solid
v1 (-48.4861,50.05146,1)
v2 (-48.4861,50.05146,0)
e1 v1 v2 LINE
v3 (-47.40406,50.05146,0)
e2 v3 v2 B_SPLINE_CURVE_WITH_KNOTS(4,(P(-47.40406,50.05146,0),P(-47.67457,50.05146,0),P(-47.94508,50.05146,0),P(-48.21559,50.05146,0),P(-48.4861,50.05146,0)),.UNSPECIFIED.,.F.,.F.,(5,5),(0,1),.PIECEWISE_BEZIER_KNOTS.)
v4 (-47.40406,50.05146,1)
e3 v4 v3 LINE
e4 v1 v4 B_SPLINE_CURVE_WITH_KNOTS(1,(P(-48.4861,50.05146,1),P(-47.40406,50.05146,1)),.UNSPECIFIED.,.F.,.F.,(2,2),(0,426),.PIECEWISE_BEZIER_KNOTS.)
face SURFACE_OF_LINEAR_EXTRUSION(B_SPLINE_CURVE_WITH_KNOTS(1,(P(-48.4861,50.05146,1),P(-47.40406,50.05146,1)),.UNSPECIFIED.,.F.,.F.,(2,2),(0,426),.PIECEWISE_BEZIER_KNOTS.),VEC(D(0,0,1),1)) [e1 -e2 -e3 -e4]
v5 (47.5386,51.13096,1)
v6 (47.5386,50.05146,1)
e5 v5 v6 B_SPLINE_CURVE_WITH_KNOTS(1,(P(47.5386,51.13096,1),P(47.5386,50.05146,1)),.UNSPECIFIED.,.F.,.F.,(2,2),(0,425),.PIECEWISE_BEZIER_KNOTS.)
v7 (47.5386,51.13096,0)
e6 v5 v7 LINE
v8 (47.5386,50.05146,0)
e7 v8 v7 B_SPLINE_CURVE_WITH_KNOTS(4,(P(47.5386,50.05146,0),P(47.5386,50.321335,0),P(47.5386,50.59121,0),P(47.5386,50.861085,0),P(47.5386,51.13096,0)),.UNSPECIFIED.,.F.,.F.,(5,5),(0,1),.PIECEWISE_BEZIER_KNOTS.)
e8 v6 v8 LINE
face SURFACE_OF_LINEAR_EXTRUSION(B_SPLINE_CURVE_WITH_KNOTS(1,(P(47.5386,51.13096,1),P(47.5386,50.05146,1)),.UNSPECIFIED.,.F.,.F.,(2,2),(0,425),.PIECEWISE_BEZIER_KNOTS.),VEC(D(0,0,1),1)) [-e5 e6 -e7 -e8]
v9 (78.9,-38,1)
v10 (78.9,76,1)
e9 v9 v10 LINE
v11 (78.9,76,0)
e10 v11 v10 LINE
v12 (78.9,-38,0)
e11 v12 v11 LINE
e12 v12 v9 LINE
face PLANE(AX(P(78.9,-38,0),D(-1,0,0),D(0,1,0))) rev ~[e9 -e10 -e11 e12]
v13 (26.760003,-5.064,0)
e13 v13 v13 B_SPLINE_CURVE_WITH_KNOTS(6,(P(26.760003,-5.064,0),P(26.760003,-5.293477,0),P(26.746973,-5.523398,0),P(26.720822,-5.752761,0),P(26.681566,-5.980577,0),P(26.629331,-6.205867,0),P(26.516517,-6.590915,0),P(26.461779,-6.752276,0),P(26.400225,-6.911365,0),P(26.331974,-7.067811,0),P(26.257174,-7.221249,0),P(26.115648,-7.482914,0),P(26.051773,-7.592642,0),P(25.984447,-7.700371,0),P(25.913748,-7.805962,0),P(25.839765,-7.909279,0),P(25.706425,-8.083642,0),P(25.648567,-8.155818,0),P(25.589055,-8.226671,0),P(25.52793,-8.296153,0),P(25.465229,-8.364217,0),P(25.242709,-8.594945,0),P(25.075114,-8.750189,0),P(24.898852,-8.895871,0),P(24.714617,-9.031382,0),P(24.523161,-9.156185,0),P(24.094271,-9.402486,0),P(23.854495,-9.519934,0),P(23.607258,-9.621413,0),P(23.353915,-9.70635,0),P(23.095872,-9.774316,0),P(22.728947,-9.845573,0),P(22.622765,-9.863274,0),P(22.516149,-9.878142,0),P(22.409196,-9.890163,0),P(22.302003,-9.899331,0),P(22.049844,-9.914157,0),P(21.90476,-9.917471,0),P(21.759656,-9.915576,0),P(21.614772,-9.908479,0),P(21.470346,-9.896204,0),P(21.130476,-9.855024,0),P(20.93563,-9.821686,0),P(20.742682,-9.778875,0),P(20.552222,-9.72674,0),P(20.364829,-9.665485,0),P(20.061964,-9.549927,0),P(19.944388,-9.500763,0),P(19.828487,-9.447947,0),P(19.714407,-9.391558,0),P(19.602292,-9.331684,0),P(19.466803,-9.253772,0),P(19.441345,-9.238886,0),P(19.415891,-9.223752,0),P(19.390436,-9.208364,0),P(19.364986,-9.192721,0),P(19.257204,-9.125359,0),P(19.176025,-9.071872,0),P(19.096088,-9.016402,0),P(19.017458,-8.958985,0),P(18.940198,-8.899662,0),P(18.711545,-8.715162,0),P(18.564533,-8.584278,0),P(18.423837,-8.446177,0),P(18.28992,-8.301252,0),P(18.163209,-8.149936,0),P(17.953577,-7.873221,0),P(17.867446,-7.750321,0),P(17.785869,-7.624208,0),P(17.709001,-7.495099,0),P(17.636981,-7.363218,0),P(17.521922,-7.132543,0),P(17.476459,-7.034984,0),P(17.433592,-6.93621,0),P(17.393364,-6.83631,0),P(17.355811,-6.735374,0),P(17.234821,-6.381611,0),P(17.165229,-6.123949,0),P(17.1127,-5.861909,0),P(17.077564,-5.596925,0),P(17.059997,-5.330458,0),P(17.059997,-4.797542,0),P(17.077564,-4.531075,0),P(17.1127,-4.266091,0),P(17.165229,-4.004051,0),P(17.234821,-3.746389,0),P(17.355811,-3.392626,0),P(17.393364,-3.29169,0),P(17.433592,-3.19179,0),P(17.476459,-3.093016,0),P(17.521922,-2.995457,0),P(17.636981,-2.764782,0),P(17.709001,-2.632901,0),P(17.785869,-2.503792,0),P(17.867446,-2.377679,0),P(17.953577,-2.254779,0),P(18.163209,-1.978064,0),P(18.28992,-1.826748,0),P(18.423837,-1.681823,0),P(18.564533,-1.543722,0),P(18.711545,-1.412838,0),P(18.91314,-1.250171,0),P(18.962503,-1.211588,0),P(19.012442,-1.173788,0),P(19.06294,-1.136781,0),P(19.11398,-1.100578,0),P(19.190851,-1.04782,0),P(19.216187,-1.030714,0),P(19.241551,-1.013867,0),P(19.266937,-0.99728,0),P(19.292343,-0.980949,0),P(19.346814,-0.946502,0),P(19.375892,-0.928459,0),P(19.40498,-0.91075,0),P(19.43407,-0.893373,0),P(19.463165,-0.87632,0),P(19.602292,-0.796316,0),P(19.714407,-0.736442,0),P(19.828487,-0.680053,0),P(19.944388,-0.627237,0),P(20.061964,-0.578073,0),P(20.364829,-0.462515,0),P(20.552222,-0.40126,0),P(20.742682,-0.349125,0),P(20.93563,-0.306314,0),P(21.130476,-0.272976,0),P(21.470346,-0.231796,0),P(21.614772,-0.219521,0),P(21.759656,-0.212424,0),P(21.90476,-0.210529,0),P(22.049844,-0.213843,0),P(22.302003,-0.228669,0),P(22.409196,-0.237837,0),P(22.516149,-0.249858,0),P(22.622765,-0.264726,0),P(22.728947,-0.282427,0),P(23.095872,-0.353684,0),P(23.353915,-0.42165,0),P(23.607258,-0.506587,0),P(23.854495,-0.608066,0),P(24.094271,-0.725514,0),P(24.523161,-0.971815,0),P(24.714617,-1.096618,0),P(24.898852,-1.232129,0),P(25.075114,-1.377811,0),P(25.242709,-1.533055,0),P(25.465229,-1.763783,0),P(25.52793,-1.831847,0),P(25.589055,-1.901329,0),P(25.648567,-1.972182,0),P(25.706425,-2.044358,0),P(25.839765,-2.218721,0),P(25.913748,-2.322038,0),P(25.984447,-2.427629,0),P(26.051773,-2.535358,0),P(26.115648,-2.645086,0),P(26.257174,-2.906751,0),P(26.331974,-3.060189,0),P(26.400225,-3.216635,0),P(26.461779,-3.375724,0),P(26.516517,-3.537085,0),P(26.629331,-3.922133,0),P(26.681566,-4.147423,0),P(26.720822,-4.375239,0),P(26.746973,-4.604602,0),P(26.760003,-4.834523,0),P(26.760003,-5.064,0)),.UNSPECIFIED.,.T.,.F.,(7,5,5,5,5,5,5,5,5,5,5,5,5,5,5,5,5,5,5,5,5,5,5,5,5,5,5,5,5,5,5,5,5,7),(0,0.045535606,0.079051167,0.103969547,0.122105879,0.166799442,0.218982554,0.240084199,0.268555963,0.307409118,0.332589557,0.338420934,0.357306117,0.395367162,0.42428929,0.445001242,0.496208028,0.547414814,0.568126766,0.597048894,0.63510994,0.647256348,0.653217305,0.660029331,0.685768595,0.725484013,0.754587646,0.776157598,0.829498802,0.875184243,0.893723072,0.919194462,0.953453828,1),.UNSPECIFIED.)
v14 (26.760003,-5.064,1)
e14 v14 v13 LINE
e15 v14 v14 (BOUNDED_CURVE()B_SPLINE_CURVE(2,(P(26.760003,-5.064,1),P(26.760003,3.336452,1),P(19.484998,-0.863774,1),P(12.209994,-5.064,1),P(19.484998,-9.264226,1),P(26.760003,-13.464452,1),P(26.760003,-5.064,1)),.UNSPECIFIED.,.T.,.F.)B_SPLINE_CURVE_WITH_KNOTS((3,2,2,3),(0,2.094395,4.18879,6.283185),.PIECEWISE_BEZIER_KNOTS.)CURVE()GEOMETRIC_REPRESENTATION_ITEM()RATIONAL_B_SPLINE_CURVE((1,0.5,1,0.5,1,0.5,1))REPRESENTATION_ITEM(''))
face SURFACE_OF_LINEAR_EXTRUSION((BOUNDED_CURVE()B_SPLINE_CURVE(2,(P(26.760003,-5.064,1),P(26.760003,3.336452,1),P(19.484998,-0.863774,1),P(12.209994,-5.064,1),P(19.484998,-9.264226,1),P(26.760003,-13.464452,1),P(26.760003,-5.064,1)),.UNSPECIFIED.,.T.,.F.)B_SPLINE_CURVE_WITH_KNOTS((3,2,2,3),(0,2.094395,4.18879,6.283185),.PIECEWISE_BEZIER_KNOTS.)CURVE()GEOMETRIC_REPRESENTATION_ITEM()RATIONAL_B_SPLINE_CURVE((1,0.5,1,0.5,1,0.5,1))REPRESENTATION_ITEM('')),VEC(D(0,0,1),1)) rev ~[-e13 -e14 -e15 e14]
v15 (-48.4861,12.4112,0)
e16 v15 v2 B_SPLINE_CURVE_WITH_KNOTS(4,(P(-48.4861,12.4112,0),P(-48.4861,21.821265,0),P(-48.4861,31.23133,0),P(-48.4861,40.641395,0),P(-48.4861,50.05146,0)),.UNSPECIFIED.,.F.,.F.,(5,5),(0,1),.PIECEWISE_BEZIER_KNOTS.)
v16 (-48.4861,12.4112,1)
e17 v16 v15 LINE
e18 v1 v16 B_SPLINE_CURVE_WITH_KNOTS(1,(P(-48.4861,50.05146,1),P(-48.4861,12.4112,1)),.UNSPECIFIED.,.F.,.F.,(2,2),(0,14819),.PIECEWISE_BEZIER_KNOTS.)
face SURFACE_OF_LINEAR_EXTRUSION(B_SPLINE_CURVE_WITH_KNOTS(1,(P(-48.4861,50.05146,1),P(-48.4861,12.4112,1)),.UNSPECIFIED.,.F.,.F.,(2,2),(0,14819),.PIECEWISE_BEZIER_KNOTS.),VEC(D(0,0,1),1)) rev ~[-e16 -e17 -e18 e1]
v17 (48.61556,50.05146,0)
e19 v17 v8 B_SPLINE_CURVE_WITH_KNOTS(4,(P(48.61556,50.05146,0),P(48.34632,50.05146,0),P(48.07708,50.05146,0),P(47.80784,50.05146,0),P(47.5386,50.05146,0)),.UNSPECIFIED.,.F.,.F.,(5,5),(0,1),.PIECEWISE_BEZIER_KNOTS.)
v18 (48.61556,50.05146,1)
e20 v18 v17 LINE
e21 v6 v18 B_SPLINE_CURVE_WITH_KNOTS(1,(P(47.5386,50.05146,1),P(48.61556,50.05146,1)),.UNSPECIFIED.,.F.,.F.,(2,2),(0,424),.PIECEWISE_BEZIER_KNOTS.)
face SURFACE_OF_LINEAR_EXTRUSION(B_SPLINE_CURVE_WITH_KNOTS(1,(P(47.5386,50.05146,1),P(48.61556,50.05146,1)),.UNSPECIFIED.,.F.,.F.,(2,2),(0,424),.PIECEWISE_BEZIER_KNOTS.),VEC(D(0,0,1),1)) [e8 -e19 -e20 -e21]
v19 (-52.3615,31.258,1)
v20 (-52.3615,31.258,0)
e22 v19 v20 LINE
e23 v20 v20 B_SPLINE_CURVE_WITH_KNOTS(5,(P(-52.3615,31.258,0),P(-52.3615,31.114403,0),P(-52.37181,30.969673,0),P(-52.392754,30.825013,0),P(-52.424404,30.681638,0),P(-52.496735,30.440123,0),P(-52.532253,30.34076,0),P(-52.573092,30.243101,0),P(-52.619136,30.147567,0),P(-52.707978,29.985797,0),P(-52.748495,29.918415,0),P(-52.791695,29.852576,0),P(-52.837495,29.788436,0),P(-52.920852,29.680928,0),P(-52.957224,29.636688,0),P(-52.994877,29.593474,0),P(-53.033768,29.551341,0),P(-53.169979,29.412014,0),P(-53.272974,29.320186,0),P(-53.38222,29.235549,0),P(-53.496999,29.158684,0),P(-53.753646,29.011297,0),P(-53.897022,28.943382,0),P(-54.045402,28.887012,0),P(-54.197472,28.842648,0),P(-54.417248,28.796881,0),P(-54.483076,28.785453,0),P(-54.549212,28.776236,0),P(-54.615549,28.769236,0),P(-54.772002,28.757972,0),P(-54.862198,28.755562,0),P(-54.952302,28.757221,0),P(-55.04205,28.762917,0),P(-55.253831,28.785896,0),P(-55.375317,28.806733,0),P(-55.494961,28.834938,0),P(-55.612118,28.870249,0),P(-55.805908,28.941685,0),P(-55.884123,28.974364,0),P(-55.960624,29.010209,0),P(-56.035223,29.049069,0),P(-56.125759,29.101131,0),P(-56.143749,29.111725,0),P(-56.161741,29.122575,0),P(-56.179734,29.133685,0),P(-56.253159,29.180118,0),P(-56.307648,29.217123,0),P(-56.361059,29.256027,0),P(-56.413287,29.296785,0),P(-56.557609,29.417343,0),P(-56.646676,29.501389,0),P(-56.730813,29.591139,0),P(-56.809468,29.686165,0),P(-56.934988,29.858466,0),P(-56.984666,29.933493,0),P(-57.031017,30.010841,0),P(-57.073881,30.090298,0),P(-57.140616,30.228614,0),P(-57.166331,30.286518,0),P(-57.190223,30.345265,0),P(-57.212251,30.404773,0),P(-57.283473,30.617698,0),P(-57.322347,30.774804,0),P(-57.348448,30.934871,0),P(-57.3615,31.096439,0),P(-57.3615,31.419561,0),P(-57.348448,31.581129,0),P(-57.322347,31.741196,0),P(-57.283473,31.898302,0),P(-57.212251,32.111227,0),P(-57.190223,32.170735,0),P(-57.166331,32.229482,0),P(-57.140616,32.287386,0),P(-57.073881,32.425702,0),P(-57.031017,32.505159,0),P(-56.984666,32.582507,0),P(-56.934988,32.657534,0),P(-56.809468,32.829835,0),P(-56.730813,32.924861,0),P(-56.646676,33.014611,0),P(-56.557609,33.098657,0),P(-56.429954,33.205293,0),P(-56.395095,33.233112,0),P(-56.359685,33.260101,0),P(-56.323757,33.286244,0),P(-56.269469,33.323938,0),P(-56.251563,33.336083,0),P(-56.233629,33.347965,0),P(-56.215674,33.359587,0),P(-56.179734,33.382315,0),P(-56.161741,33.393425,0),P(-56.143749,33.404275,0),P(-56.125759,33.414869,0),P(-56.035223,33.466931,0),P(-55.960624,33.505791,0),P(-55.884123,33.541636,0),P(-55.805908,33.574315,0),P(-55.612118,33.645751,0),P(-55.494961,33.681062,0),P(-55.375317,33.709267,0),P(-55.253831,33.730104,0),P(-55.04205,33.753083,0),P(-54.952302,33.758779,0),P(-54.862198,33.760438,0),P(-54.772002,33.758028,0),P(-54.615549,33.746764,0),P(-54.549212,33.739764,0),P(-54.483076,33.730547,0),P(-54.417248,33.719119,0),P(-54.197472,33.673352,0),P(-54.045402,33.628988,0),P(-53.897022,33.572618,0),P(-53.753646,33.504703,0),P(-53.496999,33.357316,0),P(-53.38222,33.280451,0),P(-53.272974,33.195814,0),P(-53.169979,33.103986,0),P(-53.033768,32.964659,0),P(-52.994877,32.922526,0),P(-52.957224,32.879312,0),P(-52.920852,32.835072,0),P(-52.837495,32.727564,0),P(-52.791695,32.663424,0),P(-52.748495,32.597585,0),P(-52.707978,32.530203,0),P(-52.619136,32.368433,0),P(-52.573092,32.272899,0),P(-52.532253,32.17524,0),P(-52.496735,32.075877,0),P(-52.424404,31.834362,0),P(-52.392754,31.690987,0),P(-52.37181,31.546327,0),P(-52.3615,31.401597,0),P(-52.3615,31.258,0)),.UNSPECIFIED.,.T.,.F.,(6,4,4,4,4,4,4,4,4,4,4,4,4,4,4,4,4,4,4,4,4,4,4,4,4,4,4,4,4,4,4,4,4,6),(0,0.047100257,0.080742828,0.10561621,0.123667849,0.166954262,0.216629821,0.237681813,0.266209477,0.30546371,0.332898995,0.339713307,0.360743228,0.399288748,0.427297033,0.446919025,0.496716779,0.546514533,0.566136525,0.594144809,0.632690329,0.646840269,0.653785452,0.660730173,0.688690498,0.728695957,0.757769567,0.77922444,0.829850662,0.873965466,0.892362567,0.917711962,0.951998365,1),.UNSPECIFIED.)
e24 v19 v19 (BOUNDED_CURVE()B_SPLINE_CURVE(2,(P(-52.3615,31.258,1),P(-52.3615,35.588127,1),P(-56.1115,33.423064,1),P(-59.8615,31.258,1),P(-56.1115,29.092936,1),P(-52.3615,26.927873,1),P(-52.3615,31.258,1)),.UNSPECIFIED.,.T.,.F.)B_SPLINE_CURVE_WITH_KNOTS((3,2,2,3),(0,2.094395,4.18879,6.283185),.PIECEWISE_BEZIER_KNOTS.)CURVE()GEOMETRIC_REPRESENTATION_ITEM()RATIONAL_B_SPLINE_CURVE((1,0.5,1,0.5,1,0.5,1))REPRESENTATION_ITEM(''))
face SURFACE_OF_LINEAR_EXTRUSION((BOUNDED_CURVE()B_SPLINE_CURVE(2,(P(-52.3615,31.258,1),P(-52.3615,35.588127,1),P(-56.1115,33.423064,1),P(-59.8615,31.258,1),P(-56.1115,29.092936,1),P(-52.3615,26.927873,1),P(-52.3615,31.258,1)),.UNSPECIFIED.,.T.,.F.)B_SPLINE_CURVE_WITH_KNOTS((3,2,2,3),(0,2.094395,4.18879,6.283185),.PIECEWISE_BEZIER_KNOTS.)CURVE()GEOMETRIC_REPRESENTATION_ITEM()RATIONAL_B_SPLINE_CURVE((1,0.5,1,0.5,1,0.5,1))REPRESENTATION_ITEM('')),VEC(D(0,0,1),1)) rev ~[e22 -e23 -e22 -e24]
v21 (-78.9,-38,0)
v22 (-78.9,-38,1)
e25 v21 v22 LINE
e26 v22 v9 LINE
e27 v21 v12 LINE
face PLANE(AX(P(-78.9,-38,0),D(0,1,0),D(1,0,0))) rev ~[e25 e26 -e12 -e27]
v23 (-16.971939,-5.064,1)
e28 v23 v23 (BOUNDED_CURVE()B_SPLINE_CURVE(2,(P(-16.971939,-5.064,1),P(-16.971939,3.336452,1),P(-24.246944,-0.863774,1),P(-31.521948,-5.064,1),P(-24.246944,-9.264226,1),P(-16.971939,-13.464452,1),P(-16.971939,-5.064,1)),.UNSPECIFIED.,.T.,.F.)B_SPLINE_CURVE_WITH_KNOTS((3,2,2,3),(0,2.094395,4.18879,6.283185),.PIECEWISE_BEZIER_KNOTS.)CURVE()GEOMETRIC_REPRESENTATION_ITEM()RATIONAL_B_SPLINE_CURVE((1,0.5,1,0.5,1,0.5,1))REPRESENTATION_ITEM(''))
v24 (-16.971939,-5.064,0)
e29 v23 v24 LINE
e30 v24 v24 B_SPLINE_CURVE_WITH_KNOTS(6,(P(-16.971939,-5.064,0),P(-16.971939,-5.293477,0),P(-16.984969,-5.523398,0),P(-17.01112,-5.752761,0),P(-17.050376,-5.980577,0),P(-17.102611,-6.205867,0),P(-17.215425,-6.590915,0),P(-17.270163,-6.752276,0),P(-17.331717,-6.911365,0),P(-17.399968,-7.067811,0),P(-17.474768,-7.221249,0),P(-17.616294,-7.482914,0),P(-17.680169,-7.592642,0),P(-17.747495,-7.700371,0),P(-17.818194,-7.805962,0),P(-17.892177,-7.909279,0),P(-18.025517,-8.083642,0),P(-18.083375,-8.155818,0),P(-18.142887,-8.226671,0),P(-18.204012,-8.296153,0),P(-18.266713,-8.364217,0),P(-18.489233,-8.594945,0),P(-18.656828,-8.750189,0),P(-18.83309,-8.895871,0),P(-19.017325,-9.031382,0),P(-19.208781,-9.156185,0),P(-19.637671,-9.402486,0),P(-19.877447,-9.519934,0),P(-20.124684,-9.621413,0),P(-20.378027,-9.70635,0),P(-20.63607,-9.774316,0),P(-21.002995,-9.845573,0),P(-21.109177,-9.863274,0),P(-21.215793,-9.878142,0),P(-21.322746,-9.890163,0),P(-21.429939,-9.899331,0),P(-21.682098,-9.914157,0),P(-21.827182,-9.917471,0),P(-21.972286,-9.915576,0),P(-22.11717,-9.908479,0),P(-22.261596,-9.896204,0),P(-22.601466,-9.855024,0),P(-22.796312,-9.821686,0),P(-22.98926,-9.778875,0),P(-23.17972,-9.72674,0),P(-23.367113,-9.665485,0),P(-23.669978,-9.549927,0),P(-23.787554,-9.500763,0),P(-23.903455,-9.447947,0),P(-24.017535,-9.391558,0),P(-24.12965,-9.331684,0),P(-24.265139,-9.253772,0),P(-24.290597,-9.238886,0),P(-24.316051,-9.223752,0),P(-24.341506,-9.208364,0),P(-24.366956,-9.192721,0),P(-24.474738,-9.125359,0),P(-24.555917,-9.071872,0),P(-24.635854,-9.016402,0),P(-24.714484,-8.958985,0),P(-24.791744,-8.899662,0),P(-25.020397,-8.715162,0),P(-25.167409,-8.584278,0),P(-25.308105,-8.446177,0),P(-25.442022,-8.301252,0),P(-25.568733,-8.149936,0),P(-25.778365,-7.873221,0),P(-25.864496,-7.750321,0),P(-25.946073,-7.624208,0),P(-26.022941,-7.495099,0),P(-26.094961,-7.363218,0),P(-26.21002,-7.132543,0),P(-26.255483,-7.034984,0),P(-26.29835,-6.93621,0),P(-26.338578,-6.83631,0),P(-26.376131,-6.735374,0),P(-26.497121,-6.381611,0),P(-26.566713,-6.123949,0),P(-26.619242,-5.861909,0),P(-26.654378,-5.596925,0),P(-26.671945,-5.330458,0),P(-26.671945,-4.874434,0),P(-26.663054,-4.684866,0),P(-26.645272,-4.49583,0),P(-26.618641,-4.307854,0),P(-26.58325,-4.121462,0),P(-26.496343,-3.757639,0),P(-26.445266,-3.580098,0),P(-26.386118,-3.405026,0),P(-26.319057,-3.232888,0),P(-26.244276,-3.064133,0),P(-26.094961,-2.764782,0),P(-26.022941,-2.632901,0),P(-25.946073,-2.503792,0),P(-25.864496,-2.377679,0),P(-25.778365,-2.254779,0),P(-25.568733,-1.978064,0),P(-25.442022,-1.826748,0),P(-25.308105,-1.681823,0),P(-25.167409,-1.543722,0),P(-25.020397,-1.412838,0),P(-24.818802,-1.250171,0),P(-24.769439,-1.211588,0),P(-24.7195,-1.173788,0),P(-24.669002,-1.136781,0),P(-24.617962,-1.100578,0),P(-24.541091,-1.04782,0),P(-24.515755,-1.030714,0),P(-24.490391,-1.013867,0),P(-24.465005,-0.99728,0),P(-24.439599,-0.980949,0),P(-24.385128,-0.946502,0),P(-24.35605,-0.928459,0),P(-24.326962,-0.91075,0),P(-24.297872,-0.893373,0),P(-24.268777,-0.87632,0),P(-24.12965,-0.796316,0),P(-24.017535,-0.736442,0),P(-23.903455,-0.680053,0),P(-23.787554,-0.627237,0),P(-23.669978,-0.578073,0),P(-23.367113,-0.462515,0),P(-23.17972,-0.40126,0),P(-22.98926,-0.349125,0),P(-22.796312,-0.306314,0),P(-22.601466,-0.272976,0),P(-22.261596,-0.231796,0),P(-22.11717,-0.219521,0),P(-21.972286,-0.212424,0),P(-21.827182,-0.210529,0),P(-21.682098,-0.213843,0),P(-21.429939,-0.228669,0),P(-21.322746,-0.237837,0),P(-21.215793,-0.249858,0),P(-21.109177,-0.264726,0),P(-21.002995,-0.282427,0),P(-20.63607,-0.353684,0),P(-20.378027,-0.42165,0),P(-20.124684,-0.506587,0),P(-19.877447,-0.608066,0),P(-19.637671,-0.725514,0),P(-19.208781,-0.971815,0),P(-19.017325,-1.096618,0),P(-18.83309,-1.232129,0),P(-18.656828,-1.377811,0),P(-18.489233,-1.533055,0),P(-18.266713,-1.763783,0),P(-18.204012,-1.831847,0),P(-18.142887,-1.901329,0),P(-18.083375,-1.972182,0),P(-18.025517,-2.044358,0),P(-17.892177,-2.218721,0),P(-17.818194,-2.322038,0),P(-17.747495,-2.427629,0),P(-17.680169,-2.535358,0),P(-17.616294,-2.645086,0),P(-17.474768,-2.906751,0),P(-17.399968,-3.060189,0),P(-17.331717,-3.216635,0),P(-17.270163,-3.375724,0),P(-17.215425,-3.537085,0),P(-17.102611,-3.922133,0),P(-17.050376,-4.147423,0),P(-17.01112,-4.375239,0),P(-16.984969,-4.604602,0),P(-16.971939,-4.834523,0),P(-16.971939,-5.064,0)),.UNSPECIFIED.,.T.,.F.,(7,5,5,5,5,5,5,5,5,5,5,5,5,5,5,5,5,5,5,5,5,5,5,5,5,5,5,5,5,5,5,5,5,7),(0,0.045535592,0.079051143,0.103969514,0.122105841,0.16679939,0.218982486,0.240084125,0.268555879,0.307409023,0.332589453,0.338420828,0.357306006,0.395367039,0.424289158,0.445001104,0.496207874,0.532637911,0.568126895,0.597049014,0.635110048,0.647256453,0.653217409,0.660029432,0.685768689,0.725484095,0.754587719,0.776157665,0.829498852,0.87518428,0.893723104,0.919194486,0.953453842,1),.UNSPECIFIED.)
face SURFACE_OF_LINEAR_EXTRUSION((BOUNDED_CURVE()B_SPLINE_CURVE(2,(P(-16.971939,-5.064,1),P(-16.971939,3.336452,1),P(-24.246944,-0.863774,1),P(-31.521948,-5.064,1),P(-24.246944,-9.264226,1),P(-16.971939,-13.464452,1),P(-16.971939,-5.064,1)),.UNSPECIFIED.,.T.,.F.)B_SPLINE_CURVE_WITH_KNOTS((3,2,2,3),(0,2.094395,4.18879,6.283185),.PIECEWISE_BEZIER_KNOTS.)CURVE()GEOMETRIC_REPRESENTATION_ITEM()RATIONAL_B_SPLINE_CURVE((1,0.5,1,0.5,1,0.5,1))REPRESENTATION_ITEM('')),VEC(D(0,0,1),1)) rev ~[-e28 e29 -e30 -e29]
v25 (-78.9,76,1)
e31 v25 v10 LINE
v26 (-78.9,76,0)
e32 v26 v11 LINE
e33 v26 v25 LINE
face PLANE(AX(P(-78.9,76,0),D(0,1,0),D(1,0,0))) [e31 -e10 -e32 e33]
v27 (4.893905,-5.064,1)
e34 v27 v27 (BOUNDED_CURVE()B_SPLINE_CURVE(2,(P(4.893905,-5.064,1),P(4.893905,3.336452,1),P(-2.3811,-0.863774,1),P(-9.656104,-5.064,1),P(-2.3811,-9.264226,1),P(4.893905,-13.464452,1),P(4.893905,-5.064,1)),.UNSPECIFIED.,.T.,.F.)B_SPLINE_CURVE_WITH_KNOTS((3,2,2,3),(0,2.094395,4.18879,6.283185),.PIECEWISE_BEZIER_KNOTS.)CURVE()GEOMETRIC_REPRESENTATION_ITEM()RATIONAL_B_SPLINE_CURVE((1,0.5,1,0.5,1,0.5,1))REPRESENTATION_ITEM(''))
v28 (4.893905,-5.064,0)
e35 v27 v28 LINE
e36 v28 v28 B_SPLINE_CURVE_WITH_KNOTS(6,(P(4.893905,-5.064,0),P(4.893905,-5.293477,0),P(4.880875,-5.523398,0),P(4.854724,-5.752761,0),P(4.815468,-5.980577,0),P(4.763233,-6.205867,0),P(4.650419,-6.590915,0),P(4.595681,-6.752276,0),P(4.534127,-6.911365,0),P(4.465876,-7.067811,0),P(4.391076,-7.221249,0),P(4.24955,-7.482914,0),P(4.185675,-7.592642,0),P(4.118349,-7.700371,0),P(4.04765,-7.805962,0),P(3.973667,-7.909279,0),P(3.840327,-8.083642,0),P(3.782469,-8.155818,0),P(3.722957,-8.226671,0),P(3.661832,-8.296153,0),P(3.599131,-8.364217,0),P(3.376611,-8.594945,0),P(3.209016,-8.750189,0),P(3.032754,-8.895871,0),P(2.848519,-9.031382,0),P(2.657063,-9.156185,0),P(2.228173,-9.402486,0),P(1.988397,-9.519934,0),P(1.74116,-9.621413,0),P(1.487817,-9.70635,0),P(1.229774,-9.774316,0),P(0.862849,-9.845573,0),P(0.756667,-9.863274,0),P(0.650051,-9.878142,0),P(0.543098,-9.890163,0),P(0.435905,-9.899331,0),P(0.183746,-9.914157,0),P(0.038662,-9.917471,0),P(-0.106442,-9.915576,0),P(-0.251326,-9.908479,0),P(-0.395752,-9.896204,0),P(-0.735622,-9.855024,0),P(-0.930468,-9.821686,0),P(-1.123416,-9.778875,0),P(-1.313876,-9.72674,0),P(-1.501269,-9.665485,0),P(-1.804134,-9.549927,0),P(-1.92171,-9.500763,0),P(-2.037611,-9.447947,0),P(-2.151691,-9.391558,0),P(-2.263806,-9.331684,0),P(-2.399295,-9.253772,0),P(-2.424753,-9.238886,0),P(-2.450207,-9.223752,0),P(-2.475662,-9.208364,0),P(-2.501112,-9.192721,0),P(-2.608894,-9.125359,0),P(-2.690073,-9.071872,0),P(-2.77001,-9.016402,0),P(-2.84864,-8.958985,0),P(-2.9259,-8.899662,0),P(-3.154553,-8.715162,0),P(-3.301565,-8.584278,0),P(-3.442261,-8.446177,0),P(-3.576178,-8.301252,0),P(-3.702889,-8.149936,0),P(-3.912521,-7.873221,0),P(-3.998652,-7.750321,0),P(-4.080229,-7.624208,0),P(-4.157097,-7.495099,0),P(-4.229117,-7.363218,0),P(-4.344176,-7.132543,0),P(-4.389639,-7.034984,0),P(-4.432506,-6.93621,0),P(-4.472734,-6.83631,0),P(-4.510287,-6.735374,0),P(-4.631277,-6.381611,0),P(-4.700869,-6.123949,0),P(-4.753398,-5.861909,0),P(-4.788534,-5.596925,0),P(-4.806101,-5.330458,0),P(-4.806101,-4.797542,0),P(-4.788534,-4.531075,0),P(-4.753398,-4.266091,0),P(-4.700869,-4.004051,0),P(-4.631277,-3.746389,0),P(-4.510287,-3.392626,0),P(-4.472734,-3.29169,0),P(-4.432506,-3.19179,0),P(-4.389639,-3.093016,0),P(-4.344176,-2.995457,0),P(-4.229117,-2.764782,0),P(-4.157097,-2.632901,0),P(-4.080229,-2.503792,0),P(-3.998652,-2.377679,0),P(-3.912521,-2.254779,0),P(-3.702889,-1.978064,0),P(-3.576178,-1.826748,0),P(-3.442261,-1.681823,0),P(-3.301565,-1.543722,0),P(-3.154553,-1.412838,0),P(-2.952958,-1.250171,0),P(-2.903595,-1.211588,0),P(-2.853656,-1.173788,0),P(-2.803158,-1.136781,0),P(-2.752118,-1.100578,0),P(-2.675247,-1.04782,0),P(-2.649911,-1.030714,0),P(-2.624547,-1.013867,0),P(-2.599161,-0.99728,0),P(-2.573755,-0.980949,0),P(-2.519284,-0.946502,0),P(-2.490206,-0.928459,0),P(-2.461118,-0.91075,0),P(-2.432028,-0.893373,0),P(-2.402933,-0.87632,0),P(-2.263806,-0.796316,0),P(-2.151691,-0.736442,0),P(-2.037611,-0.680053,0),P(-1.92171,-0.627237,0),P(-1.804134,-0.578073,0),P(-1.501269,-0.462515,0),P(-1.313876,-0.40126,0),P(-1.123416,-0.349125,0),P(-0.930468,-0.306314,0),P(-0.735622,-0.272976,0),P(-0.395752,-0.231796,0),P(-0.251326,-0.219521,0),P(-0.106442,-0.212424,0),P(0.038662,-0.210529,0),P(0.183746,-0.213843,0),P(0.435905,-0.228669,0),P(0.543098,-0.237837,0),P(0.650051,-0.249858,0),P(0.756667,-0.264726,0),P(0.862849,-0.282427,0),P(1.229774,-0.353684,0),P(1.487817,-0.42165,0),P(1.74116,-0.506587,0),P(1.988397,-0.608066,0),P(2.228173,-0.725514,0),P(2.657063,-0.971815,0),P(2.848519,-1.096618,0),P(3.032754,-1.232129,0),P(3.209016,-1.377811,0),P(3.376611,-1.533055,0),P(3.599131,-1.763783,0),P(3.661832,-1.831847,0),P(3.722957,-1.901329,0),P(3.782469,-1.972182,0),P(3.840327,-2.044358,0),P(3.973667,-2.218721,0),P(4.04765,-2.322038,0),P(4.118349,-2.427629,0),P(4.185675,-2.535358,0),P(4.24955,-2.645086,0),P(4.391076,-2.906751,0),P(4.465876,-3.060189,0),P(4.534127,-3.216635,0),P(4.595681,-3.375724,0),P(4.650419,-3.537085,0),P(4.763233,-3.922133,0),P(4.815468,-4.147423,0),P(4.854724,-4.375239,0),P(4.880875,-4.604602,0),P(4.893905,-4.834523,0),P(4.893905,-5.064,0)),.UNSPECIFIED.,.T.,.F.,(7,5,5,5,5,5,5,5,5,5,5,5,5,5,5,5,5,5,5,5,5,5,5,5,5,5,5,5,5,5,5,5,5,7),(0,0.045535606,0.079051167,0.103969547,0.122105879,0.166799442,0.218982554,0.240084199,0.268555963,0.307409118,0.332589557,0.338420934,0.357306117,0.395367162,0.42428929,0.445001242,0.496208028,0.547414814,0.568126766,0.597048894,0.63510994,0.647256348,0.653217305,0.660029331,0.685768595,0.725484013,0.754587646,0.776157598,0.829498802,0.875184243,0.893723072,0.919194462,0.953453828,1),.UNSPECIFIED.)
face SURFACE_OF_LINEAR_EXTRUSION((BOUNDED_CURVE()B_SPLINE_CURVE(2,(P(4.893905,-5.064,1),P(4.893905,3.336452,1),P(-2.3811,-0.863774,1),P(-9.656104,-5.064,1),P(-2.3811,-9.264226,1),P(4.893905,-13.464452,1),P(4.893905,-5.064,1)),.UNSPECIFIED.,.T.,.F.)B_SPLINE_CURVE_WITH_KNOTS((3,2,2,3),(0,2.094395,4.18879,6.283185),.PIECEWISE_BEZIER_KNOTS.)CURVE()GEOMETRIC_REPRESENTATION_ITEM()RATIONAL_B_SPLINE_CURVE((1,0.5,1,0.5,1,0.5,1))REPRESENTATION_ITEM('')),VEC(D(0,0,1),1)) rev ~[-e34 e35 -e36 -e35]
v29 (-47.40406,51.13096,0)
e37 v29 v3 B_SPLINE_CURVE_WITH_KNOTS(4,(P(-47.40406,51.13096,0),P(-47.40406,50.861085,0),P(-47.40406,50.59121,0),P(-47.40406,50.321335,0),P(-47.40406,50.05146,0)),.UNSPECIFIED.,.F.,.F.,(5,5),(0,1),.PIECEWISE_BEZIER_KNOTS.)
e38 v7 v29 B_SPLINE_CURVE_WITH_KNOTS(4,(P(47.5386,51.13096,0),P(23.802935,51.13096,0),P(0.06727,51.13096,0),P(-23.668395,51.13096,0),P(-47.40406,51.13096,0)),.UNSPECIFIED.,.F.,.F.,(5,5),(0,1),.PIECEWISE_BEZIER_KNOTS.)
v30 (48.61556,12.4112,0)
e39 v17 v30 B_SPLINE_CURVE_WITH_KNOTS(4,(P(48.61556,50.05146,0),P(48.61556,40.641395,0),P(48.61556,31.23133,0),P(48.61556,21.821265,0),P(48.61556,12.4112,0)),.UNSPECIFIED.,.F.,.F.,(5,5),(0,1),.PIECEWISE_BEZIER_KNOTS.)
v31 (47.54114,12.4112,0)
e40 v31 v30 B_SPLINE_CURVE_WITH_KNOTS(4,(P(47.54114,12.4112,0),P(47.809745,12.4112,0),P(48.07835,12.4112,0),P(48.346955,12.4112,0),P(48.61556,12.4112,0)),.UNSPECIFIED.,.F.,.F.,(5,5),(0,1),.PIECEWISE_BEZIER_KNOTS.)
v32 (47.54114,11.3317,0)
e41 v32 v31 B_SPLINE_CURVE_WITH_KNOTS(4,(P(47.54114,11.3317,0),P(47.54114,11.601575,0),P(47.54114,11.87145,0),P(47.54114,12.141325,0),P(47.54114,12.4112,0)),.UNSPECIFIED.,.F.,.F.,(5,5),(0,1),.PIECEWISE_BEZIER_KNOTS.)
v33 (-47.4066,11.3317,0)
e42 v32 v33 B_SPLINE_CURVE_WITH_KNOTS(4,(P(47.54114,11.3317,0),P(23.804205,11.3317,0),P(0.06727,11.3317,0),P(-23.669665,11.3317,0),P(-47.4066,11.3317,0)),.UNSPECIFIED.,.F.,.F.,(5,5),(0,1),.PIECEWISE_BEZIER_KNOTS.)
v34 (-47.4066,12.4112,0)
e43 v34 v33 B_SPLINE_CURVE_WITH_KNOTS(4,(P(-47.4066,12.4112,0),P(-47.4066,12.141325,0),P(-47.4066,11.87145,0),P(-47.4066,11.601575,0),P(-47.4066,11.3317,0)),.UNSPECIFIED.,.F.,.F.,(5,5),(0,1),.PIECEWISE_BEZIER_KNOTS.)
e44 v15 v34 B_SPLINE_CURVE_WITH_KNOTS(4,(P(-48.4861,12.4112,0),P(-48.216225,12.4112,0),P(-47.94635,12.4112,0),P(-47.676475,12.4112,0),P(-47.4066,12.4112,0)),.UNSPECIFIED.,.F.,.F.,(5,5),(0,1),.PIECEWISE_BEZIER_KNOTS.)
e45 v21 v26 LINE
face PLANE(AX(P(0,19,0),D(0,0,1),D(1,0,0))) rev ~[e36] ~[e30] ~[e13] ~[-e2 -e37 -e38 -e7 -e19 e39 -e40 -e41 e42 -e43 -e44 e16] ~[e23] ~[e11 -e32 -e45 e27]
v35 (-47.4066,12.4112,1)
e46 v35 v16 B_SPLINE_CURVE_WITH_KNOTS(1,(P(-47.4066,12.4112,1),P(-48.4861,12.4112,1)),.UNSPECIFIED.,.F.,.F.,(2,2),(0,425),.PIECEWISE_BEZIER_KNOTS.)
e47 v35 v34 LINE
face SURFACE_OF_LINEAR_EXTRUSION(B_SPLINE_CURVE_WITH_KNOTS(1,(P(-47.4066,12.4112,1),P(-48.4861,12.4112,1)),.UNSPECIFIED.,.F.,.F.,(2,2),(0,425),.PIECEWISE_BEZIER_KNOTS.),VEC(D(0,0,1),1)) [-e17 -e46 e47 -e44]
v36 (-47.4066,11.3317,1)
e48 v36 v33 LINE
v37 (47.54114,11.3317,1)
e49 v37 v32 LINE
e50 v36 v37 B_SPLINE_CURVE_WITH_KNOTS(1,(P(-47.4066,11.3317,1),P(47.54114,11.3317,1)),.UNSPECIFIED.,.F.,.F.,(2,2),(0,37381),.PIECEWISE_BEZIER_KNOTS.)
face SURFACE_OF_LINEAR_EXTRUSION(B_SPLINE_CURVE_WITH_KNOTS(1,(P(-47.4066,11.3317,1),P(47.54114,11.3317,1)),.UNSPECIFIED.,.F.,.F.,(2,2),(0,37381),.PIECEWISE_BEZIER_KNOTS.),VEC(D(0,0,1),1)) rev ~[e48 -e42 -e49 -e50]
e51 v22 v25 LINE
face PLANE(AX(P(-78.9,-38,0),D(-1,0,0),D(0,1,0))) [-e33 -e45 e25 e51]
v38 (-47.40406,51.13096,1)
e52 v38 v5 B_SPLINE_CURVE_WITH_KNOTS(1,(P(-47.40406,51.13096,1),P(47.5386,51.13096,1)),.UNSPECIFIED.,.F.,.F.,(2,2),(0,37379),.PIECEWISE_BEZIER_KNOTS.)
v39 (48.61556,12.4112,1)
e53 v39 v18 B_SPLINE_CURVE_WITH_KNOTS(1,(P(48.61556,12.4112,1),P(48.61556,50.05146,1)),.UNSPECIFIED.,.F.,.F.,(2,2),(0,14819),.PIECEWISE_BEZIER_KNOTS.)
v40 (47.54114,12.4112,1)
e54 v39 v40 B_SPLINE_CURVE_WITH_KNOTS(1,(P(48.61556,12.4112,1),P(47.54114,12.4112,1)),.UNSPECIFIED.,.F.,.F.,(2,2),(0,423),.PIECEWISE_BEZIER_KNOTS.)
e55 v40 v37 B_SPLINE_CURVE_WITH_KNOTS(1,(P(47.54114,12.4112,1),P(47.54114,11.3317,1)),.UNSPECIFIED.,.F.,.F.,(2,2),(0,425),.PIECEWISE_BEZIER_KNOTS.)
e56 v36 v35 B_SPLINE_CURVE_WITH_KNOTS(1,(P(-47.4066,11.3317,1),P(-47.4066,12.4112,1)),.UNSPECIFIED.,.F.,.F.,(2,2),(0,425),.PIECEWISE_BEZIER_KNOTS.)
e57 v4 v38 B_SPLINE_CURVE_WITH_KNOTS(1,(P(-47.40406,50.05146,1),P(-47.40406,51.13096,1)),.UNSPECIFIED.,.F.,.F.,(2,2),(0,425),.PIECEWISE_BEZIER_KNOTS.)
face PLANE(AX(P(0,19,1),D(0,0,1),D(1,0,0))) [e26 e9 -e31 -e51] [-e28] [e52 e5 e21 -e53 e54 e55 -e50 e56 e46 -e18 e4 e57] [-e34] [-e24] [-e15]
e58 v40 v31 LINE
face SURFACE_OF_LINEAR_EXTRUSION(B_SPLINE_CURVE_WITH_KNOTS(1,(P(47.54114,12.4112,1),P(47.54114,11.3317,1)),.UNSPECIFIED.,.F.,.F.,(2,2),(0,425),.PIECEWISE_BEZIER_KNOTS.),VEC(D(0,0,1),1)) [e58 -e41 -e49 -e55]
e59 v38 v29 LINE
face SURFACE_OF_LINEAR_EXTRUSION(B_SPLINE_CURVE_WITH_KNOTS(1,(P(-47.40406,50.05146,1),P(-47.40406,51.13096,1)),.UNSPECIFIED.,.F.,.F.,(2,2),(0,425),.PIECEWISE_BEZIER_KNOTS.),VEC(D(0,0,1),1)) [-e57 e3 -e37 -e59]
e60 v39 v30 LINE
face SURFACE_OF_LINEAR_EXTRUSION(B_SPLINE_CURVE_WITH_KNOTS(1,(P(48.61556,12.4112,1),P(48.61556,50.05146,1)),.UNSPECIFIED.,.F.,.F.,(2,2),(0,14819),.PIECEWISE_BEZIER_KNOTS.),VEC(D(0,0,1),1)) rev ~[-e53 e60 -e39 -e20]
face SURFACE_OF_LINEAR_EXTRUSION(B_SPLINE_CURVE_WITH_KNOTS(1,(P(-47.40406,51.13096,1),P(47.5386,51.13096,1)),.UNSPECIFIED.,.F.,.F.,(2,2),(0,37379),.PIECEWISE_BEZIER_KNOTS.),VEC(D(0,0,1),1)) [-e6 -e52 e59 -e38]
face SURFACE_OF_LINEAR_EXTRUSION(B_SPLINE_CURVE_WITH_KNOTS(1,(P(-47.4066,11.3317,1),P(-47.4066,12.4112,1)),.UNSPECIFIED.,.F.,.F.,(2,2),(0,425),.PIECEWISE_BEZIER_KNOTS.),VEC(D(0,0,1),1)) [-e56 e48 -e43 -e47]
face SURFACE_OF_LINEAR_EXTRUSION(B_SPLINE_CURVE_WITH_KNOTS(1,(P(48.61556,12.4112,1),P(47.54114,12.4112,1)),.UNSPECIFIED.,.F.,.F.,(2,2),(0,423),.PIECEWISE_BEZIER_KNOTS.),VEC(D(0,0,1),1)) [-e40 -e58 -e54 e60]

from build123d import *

# Parameters (mm, degrees)
SKETCH_W        = 157.8
SKETCH_H        = 114
PAD_DEPTH       = 1
POCKET001_DEPTH = 1.001
POCKET002_DEPTH = 1.001


with BuildPart() as part:
    # Sketch → Pad (new body)
    with BuildSketch(Plane.XY):
        with Locations((0, 19)):
            Rectangle(SKETCH_W, SKETCH_H)
    extrude(amount=PAD_DEPTH)

    # Sketch026 (on Face6 of Pad) → Pocket001 (cut, through all)
    with BuildSketch(Plane(origin=(0, 15, 1), x_dir=(1, 0, 0), z_dir=(0, 0, 1))):
        with BuildLine():
            add(Edge.make_bspline(
                [(-48.4861, 35.05146), (-47.40406, 35.05146)],
                knots=[0, 0, 426, 426], degree=1))
            add(Edge.make_bspline(
                [(-47.40406, 35.05146), (-47.40406, 36.13096)],
                knots=[0, 0, 425, 425], degree=1))
            add(Edge.make_bspline(
                [(-47.40406, 36.13096), (47.5386, 36.13096)],
                knots=[0, 0, 37379, 37379], degree=1))
            add(Edge.make_bspline(
                [(47.5386, 36.13096), (47.5386, 35.05146)],
                knots=[0, 0, 425, 425], degree=1))
            add(Edge.make_bspline(
                [(47.5386, 35.05146), (48.61556, 35.05146)],
                knots=[0, 0, 424, 424], degree=1))
            add(Edge.make_bspline(
                [(48.61556, -2.5888), (48.61556, 35.05146)],
                knots=[0, 0, 14819, 14819], degree=1))
            add(Edge.make_bspline(
                [(48.61556, -2.5888), (47.54114, -2.5888)],
                knots=[0, 0, 423, 423], degree=1))
            add(Edge.make_bspline(
                [(47.54114, -2.5888), (47.54114, -3.6683)],
                knots=[0, 0, 425, 425], degree=1))
            add(Edge.make_bspline(
                [(-47.4066, -3.6683), (47.54114, -3.6683)],
                knots=[0, 0, 37381, 37381], degree=1))
            add(Edge.make_bspline(
                [(-47.4066, -3.6683), (-47.4066, -2.5888)],
                knots=[0, 0, 425, 425], degree=1))
            add(Edge.make_bspline(
                [(-47.4066, -2.5888), (-48.4861, -2.5888)],
                knots=[0, 0, 425, 425], degree=1))
            add(Edge.make_bspline(
                [(-48.4861, 35.05146), (-48.4861, -2.5888)],
                knots=[0, 0, 14819, 14819], degree=1))
        make_face()
    extrude(amount=-POCKET001_DEPTH, mode=Mode.SUBTRACT)

    # Sketch013 → Pocket002 (cut, through all)
    with BuildSketch(Plane(origin=(0, 15, 1), x_dir=(1, 0, 0), z_dir=(0, 0, 1))):
        with BuildLine():
            add(Edge.make_bspline(
                [(-52.3615, 16.258), (-52.3615, 20.588127), (-56.1115, 18.423064), (-59.8615, 16.258), (-56.1115, 14.092936), (-52.3615, 11.927873), (-52.3615, 16.258)],
                knots=[0, 0, 0, 2.094395, 2.094395, 4.18879, 4.18879, 6.283185, 6.283185, 6.283185], degree=2, weights=[1, 0.5, 1, 0.5, 1, 0.5, 1]))
        make_face()
        with BuildLine():
            add(Edge.make_bspline(
                [(-16.971939, -20.064), (-16.971939, -11.663548), (-24.246944, -15.863774), (-31.521948, -20.064), (-24.246944, -24.264226), (-16.971939, -28.464452), (-16.971939, -20.064)],
                knots=[0, 0, 0, 2.094395, 2.094395, 4.18879, 4.18879, 6.283185, 6.283185, 6.283185], degree=2, weights=[1, 0.5, 1, 0.5, 1, 0.5, 1]))
        make_face()
        with BuildLine():
            add(Edge.make_bspline(
                [(4.893905, -20.064), (4.893905, -11.663548), (-2.3811, -15.863774), (-9.656104, -20.064), (-2.3811, -24.264226), (4.893905, -28.464452), (4.893905, -20.064)],
                knots=[0, 0, 0, 2.094395, 2.094395, 4.18879, 4.18879, 6.283185, 6.283185, 6.283185], degree=2, weights=[1, 0.5, 1, 0.5, 1, 0.5, 1]))
        make_face()
        with BuildLine():
            add(Edge.make_bspline(
                [(26.760003, -20.064), (26.760003, -11.663548), (19.484998, -15.863774), (12.209994, -20.064), (19.484998, -24.264226), (26.760003, -28.464452), (26.760003, -20.064)],
                knots=[0, 0, 0, 2.094395, 2.094395, 4.18879, 4.18879, 6.283185, 6.283185, 6.283185], degree=2, weights=[1, 0.5, 1, 0.5, 1, 0.5, 1]))
        make_face()
    extrude(amount=-POCKET002_DEPTH, mode=Mode.SUBTRACT)


solid = part.part
